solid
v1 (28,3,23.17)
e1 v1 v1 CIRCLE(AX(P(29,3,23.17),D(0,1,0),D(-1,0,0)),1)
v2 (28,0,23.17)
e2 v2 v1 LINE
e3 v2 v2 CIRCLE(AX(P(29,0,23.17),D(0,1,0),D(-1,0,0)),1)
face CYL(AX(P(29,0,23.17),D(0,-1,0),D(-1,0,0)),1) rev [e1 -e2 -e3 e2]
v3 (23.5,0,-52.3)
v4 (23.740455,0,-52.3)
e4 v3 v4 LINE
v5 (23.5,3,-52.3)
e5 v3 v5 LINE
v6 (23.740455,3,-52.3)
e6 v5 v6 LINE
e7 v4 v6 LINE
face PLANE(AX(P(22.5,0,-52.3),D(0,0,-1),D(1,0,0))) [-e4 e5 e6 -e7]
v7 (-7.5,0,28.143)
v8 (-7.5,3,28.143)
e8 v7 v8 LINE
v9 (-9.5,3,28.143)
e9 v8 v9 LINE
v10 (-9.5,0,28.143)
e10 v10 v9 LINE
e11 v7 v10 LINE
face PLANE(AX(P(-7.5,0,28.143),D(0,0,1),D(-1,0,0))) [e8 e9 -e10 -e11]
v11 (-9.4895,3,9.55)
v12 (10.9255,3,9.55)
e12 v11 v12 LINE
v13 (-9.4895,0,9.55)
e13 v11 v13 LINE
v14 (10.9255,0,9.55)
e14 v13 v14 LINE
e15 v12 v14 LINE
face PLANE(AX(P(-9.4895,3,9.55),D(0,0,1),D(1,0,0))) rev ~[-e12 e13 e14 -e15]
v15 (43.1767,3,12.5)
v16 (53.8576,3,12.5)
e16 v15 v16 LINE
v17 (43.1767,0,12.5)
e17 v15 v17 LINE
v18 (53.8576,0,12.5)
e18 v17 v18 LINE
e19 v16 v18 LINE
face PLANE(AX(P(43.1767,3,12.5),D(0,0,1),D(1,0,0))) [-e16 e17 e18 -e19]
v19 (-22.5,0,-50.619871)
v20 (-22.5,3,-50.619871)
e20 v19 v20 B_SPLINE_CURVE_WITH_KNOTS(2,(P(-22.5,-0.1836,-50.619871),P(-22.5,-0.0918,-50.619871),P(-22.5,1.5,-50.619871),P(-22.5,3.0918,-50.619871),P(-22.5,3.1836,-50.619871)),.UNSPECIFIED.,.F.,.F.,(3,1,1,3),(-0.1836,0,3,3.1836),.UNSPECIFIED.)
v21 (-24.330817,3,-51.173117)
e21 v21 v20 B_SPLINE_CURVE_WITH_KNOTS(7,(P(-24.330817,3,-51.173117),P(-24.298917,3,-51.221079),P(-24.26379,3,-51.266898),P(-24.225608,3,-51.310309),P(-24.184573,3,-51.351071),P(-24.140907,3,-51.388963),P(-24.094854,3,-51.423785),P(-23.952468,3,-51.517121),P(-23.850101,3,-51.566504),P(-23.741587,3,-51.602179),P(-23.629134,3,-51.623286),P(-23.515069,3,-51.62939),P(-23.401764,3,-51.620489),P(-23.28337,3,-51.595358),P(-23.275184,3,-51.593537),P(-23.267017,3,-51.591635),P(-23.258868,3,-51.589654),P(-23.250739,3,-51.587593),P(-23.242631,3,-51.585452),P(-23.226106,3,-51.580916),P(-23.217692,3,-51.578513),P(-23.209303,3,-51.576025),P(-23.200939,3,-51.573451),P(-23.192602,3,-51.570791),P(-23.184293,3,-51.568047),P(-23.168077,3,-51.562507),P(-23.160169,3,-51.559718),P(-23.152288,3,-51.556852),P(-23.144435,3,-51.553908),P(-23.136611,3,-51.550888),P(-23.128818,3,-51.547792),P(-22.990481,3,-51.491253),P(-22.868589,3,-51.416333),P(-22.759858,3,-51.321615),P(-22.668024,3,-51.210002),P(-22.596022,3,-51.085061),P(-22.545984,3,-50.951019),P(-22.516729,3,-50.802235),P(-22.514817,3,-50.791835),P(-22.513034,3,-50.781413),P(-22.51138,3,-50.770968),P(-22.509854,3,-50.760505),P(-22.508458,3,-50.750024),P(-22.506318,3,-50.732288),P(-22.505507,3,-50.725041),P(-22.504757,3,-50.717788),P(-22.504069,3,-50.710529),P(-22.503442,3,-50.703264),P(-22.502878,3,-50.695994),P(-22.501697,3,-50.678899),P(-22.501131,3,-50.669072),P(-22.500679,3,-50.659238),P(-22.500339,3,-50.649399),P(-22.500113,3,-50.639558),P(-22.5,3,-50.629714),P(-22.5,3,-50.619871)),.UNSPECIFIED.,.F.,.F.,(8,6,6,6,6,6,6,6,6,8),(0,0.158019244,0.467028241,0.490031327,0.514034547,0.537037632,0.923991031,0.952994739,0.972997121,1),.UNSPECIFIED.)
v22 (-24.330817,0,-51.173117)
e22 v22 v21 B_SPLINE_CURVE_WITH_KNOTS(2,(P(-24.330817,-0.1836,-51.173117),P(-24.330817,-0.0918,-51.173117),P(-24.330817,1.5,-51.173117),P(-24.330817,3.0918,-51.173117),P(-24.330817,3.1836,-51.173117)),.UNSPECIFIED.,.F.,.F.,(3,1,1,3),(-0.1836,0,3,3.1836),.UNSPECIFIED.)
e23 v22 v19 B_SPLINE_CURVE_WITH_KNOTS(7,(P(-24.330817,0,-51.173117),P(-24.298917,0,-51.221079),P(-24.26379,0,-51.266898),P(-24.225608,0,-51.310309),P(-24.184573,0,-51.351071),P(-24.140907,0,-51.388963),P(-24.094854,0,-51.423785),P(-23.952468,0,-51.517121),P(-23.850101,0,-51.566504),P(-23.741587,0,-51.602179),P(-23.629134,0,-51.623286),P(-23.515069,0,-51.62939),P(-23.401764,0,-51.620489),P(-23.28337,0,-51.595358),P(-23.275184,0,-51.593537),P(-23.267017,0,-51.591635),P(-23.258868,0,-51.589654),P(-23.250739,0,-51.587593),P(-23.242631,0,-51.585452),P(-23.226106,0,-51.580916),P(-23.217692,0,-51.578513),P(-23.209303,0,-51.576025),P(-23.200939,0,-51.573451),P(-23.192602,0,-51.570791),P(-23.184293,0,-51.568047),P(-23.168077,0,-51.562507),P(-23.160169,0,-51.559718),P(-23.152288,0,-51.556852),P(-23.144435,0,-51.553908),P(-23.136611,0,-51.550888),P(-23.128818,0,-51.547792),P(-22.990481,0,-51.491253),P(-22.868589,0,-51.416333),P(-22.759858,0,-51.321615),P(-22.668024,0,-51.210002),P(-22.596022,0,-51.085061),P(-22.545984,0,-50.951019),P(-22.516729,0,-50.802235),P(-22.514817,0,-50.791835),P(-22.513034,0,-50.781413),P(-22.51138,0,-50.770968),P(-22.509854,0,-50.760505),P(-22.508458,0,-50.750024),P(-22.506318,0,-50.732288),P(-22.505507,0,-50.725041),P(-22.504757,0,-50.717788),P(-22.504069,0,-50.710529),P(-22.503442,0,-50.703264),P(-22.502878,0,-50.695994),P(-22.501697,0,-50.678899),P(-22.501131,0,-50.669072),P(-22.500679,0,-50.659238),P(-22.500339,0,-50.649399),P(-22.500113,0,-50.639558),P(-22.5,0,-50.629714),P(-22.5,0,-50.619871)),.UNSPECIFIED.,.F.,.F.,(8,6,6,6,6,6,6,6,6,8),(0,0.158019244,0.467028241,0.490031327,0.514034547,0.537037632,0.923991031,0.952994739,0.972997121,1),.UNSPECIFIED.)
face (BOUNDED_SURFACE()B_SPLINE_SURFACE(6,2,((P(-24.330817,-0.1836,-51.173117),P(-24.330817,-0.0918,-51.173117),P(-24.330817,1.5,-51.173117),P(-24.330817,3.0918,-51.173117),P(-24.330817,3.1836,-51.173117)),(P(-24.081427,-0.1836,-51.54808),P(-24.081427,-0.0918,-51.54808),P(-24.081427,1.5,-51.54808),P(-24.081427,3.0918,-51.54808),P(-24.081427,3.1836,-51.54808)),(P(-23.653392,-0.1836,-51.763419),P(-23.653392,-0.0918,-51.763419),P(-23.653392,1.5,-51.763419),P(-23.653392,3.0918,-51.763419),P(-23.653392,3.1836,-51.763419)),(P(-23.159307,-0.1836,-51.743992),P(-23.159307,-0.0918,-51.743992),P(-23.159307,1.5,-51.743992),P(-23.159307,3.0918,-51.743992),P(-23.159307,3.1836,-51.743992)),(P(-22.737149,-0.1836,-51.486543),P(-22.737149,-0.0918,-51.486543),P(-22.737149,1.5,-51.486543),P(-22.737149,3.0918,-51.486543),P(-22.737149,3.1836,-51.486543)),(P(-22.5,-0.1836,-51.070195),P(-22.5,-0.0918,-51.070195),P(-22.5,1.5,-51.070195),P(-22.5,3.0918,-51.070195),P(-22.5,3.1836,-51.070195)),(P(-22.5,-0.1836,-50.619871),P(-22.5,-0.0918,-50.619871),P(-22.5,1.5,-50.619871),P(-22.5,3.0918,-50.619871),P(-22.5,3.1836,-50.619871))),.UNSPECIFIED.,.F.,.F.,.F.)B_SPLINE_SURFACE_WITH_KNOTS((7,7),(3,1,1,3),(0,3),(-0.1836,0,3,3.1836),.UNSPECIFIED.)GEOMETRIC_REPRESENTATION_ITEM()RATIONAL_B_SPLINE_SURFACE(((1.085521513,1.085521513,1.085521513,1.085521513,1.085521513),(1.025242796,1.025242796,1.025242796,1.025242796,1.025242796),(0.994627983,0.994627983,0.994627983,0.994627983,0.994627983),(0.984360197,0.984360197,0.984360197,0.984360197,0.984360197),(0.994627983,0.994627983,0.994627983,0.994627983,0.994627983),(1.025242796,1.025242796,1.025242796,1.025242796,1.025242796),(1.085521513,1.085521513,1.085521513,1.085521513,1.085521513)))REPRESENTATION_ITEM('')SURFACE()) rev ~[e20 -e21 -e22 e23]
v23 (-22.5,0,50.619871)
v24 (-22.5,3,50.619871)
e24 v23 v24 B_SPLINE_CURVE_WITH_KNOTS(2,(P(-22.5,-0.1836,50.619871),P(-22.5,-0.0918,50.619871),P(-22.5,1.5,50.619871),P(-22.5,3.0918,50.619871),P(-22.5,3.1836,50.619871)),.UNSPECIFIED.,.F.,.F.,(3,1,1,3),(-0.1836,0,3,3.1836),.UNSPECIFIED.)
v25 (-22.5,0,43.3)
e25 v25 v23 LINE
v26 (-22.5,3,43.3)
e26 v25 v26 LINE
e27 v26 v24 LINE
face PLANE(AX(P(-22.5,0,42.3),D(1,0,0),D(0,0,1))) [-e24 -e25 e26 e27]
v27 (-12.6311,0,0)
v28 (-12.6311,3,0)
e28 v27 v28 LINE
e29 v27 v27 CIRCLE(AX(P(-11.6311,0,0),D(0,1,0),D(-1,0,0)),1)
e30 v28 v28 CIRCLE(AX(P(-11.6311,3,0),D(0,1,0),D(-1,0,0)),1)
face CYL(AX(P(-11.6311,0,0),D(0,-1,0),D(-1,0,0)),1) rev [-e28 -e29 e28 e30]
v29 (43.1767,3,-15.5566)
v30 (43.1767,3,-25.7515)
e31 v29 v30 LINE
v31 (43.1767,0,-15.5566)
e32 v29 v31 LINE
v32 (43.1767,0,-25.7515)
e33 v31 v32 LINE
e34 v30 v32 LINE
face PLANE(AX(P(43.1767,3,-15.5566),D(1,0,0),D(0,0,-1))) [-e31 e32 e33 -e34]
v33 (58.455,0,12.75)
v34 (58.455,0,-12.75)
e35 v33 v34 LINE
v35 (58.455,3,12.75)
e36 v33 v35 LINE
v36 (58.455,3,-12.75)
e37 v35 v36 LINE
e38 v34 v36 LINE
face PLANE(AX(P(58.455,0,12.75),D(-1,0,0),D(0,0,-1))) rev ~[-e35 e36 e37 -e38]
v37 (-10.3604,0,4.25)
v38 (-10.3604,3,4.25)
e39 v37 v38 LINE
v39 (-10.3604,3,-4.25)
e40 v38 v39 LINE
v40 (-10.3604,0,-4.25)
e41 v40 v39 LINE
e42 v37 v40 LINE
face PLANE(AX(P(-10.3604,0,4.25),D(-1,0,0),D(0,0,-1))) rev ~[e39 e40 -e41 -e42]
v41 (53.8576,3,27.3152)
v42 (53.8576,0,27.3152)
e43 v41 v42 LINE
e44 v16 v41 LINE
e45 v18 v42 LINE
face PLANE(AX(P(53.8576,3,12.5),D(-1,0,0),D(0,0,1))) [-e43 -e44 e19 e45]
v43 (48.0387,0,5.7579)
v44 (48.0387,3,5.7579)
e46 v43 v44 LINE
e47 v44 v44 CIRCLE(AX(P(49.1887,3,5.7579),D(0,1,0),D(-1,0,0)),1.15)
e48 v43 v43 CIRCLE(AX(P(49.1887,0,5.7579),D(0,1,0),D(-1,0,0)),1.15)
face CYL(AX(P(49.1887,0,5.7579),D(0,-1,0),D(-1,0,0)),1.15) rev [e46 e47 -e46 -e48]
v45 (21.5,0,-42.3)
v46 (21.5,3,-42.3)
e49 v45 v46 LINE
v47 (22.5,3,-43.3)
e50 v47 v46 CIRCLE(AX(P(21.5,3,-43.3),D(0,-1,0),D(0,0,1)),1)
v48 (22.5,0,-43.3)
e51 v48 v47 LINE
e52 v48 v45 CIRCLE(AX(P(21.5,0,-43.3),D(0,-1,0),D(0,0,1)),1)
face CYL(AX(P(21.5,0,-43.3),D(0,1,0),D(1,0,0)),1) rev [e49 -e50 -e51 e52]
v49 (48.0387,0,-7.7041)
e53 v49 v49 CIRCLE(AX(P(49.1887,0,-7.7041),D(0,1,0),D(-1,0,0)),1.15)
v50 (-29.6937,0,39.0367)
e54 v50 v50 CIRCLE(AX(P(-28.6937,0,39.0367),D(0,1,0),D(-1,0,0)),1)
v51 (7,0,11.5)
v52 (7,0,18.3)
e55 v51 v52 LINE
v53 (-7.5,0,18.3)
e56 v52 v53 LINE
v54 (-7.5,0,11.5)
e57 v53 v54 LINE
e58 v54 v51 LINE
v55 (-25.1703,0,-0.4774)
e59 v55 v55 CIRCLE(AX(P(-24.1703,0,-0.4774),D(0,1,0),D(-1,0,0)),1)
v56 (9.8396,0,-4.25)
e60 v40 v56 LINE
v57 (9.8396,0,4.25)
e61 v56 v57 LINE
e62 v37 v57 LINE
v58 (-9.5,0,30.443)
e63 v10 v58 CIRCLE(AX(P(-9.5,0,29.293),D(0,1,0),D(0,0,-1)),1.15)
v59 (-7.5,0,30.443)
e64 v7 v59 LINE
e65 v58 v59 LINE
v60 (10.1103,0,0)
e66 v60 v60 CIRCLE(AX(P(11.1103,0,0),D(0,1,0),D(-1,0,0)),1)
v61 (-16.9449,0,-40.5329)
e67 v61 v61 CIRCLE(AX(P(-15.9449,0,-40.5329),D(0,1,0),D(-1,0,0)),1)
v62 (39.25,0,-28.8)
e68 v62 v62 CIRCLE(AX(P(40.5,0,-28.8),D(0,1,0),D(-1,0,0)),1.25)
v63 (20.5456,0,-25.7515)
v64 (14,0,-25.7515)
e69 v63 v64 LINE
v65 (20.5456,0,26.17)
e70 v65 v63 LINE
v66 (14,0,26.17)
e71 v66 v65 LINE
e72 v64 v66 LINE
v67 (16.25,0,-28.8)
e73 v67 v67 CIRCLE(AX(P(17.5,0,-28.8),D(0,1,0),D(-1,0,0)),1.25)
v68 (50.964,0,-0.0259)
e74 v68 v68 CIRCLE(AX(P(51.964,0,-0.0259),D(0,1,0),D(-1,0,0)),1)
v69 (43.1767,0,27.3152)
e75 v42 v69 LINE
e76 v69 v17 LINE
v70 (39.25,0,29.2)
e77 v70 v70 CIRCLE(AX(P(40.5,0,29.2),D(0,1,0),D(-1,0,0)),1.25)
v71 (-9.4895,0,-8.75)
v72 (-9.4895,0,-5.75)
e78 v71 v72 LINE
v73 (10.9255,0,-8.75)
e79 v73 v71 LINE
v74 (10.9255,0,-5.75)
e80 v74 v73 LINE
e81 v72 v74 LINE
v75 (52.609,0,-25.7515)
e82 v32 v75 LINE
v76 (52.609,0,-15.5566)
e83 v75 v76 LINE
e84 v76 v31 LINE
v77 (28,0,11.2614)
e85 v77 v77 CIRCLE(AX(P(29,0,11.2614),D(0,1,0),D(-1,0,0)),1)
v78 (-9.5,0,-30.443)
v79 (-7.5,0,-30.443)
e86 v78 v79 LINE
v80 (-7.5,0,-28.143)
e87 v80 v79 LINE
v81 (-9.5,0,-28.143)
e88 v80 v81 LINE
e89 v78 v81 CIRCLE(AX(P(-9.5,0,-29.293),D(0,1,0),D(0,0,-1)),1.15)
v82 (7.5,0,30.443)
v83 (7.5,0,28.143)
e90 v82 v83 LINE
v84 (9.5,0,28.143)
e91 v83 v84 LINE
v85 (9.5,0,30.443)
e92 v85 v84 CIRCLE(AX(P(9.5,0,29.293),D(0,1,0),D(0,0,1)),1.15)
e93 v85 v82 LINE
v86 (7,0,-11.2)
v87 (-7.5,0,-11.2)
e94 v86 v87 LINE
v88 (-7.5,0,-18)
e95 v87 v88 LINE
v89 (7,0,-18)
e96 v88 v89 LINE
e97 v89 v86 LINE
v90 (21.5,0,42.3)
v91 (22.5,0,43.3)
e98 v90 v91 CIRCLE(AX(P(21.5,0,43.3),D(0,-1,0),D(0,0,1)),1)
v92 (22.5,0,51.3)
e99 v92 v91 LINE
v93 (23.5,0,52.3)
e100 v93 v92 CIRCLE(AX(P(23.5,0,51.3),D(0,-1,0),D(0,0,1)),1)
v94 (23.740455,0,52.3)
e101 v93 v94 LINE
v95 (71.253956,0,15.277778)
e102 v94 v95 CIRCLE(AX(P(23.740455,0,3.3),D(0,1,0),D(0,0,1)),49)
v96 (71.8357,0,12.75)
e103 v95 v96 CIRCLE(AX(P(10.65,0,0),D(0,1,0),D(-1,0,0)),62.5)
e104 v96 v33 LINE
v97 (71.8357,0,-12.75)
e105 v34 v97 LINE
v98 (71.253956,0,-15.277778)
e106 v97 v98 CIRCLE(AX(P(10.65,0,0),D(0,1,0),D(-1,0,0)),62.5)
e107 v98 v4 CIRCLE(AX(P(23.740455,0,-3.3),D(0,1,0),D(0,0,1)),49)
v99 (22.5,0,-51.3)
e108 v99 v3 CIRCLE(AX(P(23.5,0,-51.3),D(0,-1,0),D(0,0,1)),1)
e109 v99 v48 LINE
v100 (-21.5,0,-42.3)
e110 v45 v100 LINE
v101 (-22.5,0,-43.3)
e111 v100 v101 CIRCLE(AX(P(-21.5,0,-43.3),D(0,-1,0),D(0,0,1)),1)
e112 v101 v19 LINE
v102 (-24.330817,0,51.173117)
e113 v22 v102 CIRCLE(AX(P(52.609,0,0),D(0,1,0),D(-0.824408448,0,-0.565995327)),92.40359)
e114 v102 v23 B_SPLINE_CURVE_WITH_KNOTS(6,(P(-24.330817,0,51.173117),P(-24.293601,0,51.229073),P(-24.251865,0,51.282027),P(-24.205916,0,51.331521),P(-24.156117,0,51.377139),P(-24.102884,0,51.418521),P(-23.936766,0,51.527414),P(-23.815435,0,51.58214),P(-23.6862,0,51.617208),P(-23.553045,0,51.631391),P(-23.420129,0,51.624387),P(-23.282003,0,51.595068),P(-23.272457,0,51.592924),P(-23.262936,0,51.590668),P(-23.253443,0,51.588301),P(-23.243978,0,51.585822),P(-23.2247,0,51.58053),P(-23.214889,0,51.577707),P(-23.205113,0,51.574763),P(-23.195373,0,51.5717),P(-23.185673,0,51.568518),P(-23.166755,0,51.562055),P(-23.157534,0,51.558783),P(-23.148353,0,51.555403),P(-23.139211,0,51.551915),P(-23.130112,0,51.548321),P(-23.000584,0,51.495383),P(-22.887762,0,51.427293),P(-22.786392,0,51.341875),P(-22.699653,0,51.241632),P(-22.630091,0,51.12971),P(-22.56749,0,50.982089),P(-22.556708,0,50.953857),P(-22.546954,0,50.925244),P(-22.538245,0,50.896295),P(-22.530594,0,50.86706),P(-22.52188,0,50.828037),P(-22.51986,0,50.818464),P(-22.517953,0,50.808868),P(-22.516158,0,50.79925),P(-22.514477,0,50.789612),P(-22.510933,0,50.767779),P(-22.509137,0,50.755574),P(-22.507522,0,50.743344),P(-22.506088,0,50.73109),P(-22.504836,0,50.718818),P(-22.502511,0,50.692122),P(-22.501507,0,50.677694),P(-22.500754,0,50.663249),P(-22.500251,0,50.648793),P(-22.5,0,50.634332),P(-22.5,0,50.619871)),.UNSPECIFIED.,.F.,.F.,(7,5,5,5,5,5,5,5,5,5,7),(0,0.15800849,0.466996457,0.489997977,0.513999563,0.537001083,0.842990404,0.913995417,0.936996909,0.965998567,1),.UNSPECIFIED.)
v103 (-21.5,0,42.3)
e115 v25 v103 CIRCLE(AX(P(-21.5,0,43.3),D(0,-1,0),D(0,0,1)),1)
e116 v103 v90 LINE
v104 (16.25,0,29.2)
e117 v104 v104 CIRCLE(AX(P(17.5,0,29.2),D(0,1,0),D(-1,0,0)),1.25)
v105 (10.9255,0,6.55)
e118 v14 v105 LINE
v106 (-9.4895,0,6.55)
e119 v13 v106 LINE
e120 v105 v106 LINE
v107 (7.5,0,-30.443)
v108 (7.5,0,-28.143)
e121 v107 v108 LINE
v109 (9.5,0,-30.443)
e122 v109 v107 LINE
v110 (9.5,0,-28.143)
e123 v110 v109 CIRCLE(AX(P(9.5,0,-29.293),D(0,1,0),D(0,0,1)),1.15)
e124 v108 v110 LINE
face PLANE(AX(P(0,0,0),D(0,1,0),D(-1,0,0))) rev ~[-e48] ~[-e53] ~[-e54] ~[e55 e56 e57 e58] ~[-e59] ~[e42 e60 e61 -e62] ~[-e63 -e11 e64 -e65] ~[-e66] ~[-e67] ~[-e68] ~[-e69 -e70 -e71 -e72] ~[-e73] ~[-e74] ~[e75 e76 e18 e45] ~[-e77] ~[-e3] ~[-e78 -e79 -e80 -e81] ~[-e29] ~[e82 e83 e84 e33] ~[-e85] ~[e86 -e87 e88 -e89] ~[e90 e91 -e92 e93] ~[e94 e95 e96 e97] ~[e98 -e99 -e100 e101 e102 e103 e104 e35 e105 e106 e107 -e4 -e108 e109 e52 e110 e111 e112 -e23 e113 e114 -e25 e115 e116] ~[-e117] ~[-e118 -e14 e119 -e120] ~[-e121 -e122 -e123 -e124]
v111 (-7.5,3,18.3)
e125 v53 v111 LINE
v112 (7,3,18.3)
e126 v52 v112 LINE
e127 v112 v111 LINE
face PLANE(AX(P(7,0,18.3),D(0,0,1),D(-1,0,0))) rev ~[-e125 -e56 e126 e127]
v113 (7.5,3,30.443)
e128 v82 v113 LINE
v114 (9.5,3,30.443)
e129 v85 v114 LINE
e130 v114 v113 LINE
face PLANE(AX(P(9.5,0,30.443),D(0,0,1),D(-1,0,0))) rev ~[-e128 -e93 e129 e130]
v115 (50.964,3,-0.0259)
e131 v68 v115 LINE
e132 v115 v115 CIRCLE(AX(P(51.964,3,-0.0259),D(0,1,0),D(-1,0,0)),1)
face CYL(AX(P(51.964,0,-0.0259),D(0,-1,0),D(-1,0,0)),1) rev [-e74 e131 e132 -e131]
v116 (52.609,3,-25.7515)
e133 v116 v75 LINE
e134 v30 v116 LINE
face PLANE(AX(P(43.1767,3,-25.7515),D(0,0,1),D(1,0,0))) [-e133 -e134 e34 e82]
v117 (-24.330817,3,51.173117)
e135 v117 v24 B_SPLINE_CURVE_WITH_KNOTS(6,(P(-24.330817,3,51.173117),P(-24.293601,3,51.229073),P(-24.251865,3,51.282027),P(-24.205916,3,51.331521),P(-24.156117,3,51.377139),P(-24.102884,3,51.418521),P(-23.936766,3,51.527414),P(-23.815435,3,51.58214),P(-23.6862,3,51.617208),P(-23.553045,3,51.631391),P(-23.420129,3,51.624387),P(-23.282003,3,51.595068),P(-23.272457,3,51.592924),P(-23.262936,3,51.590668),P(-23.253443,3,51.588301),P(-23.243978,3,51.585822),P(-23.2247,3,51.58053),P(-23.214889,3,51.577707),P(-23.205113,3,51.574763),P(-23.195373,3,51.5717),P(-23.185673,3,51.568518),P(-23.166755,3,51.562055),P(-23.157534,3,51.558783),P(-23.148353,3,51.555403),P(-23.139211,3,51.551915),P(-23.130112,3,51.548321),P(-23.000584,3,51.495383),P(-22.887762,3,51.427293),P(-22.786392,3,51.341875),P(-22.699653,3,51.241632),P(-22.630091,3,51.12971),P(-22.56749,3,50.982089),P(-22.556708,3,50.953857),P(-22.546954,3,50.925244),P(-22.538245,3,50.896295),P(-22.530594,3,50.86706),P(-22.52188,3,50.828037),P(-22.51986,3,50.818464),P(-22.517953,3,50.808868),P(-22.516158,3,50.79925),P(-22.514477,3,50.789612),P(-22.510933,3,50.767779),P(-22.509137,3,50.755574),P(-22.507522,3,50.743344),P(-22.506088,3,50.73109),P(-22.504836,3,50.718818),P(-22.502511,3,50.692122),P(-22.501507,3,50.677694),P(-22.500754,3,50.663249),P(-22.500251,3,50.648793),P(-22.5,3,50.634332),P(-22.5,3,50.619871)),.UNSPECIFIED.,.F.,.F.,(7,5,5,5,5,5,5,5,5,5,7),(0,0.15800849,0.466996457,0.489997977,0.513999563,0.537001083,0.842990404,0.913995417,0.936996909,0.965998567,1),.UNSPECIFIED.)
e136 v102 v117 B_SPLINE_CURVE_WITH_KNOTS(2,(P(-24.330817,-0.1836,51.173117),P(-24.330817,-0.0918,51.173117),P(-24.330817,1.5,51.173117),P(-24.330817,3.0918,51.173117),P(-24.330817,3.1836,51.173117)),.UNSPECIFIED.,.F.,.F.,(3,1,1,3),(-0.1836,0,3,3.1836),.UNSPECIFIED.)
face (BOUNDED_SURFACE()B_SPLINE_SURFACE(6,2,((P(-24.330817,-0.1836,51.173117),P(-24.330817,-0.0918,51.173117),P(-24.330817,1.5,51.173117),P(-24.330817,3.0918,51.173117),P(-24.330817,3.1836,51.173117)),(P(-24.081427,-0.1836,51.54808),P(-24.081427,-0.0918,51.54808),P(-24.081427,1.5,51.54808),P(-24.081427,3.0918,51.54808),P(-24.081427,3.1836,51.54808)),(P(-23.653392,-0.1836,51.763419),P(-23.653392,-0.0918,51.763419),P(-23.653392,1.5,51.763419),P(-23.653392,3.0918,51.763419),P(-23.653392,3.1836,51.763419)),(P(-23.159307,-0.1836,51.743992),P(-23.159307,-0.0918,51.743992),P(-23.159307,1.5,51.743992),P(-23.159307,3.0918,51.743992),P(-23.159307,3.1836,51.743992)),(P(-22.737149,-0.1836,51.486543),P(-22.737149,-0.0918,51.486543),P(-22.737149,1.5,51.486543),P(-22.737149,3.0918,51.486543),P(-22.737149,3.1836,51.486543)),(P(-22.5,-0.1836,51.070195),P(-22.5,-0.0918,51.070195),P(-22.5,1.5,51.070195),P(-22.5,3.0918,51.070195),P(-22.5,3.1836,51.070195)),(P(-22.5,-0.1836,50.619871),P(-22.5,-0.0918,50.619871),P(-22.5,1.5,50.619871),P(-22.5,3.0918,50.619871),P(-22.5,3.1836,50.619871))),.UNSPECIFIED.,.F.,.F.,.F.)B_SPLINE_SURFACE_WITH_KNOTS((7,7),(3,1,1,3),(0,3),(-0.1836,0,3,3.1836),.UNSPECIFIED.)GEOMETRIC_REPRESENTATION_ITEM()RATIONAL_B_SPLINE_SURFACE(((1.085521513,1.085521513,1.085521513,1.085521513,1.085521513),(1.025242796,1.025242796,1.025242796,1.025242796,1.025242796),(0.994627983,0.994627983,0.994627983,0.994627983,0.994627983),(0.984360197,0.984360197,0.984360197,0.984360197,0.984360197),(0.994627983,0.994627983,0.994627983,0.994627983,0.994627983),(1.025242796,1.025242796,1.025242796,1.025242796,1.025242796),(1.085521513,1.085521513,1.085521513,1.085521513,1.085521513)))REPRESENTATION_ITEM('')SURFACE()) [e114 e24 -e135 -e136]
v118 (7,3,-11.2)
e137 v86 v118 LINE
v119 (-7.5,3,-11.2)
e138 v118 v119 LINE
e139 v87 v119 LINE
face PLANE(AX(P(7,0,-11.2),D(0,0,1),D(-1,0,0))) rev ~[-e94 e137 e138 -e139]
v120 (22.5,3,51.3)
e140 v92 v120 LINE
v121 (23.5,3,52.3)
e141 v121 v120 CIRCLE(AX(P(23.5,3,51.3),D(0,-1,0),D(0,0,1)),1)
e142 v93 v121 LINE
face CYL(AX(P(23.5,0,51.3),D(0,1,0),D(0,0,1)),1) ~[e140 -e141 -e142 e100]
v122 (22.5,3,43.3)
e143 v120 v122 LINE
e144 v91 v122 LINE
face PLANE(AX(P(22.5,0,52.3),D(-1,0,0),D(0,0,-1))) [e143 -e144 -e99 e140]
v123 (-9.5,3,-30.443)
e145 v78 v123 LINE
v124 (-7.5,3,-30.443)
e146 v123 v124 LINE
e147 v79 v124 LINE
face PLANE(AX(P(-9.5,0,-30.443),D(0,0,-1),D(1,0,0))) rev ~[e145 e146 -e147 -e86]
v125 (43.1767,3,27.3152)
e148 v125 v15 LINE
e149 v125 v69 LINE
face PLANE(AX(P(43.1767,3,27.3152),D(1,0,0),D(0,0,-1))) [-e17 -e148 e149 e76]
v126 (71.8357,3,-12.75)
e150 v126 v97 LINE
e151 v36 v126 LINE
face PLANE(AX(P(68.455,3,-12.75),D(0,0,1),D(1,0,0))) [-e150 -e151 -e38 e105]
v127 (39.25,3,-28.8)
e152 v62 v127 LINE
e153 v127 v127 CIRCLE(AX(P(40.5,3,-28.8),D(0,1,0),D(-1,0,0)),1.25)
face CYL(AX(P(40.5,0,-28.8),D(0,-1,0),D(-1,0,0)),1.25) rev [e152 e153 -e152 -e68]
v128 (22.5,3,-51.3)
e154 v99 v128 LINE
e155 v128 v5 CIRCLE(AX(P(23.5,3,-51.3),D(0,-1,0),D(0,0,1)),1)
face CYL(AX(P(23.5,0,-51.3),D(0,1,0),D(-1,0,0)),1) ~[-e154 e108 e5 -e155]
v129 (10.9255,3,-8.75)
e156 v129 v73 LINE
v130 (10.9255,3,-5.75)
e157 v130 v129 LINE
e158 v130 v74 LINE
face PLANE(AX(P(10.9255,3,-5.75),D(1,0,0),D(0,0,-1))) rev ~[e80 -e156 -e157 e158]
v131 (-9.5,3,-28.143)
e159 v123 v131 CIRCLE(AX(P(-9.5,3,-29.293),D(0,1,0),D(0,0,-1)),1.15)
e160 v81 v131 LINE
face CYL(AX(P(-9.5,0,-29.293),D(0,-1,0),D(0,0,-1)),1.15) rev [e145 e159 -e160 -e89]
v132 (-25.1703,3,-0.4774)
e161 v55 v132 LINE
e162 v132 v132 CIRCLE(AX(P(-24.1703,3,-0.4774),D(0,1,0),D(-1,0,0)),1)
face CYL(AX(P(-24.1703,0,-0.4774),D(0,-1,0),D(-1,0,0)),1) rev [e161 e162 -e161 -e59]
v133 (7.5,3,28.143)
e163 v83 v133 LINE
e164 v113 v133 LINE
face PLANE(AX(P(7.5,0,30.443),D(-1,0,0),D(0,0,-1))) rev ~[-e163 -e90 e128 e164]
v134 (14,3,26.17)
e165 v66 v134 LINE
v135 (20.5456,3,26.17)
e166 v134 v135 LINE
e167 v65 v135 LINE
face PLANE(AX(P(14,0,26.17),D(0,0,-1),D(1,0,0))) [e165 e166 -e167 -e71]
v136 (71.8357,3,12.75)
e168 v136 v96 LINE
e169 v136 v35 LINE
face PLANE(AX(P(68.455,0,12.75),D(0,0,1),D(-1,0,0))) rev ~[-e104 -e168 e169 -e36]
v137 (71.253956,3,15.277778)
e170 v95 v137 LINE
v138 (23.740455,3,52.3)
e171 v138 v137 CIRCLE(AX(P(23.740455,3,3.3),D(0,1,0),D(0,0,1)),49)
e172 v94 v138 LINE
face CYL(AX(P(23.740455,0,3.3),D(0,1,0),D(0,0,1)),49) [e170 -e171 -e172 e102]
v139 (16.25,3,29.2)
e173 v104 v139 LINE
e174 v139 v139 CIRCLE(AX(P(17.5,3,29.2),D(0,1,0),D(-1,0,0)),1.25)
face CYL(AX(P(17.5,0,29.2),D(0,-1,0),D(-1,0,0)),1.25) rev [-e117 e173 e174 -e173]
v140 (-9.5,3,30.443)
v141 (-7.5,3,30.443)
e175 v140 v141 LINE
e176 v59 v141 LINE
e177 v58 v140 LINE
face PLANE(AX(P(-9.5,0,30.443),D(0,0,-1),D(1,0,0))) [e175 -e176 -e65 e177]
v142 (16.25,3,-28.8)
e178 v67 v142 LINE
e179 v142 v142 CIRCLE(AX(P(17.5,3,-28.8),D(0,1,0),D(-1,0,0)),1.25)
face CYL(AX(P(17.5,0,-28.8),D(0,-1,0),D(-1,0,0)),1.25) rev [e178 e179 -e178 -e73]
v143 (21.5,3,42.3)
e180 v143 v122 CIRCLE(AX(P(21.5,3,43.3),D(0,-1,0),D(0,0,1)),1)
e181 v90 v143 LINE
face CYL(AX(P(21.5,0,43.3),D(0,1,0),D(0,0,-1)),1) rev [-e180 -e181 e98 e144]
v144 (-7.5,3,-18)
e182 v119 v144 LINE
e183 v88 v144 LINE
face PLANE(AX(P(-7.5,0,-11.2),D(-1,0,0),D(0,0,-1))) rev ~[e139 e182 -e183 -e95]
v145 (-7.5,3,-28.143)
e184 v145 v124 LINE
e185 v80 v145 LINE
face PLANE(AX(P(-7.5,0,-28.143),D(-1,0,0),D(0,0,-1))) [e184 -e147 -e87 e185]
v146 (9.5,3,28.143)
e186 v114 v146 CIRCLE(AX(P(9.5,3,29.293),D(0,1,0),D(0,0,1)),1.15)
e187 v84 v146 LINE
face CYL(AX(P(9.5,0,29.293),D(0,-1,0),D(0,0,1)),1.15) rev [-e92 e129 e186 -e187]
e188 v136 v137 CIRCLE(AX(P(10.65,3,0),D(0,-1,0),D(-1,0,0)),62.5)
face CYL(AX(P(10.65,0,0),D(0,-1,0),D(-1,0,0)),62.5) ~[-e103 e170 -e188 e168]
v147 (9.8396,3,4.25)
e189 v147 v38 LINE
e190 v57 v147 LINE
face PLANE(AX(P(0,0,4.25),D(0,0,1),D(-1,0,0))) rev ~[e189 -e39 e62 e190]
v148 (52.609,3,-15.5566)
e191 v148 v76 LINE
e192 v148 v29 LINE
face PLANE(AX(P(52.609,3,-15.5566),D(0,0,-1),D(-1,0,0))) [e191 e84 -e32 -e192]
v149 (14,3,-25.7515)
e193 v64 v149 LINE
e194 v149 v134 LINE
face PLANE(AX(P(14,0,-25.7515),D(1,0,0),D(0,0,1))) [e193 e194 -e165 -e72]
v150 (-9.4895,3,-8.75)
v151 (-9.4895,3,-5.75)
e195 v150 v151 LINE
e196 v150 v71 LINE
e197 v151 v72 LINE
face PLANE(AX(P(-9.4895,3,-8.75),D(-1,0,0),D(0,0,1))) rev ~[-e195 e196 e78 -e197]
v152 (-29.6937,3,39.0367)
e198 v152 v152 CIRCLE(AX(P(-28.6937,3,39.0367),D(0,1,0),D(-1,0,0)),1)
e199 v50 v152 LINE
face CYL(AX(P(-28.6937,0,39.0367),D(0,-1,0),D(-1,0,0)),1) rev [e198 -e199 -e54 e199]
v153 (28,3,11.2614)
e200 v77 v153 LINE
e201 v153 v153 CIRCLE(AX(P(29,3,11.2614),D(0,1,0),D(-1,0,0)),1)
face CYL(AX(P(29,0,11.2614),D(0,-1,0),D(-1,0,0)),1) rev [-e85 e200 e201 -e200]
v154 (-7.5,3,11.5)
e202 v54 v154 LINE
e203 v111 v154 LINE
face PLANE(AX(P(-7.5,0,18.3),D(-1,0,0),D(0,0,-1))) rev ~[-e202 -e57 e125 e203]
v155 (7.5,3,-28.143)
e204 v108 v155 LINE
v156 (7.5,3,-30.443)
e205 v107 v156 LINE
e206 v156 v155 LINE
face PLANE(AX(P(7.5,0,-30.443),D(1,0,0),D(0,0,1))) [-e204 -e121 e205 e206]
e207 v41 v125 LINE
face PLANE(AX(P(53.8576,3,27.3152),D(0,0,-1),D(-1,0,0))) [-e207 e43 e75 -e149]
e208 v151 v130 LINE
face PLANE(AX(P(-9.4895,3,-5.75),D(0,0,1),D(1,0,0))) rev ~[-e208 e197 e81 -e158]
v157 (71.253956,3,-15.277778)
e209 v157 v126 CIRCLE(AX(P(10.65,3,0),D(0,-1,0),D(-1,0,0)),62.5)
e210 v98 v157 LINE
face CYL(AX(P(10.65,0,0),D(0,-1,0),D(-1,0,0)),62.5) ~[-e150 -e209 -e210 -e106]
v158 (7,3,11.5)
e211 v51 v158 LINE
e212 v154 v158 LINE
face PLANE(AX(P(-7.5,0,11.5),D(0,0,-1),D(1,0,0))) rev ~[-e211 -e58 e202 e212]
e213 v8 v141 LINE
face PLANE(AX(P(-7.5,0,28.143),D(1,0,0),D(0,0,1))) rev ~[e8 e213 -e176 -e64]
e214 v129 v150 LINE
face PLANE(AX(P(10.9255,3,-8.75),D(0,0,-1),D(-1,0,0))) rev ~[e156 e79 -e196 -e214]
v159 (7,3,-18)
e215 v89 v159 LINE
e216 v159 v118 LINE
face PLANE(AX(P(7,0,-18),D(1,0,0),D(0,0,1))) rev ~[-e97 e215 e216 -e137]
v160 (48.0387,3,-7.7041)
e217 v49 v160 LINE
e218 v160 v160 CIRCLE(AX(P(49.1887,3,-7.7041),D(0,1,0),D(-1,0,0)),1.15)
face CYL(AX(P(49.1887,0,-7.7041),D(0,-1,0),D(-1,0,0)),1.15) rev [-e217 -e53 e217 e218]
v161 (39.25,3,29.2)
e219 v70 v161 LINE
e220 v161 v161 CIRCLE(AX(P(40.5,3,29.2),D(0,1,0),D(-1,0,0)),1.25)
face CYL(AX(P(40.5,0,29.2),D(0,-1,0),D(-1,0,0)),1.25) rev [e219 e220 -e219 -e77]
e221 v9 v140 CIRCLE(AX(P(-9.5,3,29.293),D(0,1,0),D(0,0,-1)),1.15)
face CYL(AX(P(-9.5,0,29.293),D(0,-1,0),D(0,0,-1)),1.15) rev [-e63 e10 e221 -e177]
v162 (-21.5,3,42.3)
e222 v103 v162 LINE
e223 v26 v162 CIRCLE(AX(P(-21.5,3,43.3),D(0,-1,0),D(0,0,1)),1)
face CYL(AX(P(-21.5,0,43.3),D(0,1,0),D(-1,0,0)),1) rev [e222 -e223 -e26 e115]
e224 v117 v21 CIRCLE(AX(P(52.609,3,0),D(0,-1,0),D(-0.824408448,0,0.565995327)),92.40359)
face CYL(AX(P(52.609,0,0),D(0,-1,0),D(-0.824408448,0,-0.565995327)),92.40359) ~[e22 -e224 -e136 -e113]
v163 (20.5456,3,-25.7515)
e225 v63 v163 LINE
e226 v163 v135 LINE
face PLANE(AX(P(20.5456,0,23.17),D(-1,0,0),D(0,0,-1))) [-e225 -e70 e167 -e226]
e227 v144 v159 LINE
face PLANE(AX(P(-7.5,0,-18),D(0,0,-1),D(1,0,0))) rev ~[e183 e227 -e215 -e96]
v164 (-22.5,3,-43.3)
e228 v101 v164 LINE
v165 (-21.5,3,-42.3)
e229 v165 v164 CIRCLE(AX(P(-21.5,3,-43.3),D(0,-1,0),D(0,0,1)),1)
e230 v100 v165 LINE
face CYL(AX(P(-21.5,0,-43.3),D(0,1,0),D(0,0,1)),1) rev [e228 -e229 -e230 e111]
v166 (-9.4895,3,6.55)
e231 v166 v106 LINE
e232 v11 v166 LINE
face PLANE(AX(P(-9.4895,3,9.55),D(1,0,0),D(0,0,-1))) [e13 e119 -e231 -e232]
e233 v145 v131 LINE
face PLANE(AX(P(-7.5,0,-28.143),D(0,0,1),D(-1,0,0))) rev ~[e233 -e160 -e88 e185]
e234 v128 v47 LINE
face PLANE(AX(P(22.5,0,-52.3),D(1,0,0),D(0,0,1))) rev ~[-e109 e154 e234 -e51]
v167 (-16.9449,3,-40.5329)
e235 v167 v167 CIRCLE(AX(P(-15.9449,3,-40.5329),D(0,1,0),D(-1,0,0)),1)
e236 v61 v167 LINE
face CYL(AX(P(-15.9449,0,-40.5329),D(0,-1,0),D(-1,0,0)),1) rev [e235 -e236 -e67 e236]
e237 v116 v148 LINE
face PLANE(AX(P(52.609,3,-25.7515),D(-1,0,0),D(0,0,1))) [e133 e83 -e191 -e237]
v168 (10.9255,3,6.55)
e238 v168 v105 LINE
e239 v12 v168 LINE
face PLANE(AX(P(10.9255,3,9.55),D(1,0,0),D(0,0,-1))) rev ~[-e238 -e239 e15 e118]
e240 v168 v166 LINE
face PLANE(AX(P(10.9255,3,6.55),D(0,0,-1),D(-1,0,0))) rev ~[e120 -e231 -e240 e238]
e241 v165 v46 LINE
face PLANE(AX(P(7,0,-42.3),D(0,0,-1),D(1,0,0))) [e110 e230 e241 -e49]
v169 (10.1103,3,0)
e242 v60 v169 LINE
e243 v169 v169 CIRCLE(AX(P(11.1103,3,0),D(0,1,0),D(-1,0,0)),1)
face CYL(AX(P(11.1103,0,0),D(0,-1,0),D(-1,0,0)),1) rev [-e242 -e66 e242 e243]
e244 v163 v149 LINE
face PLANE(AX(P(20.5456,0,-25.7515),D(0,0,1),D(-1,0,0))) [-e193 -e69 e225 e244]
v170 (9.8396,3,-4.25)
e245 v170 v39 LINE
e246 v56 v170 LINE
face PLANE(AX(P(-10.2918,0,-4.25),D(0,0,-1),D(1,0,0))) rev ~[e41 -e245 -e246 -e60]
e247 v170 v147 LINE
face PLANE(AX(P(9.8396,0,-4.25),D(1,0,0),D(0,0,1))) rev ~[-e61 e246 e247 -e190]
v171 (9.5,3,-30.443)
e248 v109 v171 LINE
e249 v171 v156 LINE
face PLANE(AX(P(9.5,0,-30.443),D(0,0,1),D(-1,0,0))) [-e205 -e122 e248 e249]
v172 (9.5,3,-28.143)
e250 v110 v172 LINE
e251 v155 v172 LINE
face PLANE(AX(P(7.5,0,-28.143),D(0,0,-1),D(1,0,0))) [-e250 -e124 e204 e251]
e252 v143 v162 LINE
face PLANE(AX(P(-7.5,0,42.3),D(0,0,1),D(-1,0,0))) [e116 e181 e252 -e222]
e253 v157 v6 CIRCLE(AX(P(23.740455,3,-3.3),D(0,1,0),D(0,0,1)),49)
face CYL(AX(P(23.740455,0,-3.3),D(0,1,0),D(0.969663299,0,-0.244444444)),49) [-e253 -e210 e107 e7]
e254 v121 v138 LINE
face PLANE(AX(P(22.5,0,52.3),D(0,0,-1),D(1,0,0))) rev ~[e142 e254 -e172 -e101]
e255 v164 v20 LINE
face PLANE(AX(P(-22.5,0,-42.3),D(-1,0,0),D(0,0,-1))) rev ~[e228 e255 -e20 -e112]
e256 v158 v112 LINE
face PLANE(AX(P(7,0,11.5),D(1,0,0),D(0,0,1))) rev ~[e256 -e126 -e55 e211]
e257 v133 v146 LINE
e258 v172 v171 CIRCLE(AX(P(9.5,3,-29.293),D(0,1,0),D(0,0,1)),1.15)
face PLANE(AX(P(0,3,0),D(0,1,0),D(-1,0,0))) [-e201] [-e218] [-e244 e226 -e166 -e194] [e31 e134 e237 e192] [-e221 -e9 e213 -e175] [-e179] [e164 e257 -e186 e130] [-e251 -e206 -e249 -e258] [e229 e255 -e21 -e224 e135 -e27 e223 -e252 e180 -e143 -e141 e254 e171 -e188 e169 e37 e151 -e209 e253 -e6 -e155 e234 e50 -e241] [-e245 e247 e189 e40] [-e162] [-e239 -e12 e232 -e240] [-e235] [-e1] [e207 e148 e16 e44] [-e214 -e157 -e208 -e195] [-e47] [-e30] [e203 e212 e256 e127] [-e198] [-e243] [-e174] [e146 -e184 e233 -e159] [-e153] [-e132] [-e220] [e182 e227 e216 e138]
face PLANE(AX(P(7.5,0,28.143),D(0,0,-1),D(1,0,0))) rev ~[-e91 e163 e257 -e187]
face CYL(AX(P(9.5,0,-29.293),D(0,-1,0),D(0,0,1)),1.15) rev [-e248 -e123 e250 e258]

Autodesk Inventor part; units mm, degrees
ref_plane "YZ Plane" through (0, 0, 0) normal (1, 0, 0) x (0, 1, 0)
ref_plane "XZ Plane" through (0, 0, 0) normal (0, 1, 0) x (-1, 0, 0)
ref_plane "XY Plane" through (0, 0, 0) normal (0, 0, 1) x (1, 0, 0)
sketch "Boceto2" plane through (0, 0, 0) normal (0, 1, 0) x (-1, 0, 0)
  circle A0 centre (-10.65, 0) radius 62.5
  line L0 (-44, 29.7) -> (-44, -29.3)
  line L1 (-41, -32.3) -> (-17, -32.3)
  line L2 (-14, -29.3) -> (-14, 29.7)
  line L3 (-17, 32.7) -> (-41, 32.7)
  circle A1 centre (-40.5, -28.8) radius 1.25
  line L4 (0, 6.809) -> (0, -6.809)
  line L5 (10.65, 0) -> (-10.65, 0) construction
  circle A2 centre (-17.5, -28.8) radius 1.25
  circle A3 centre (-40.5, 29.2) radius 1.25
  circle A4 centre (-17.5, 29.2) radius 1.25
  line L6 (7.5, -42.3) -> (-7, -42.3)
  line L7 (-7, -42.3) -> (-7, -25)
  line L8 (-7, -25) -> (7.5, -25)
  line L9 (7.5, -25) -> (7.5, -42.3)
  arc A5 (9.0958, -33.5419) -> (9.0958, -25.0441) centre (9, -29.293) ccw
  line L10 (9.0958, -33.5419) -> (7.5, -42.3)
  line L11 (9.0958, -25.0441) -> (7.5, -25.0441)
  arc A6 (9.5, -30.443) -> (9.5, -28.143) centre (9.5, -29.293) ccw
  line L12 (9.5, -30.443) -> (7.5, -30.443)
  line L13 (7.5, -30.443) -> (7.5, -28.143)
  line L14 (7.5, -28.143) -> (9.5, -28.143)
  line L15 (9.5, -28.143) -> (9.5, -30.443)
  arc A7 (-9.0958, -25.0441) -> (-9.0958, -33.5419) centre (-9, -29.293) ccw
  line L16 (-9.0958, -33.5419) -> (-7, -42.3)
  line L17 (-9.0958, -25.0441) -> (-7.5, -25.0441)
  arc A8 (-9.5, -28.143) -> (-9.5, -30.443) centre (-9.5, -29.293) ccw
  line L18 (-9.5, -30.443) -> (-7.5, -30.443)
  line L19 (-7.5, -30.443) -> (-7.5, -28.143)
  line L20 (-7.5, -28.143) -> (-9.5, -28.143)
  line L21 (-9.5, -28.143) -> (-9.5, -30.443)
  line L22 (7.5, 42.3) -> (-7, 42.3)
  line L23 (-7, 42.3) -> (-7, 25)
  line L24 (-7, 25) -> (7.5, 25)
  line L25 (7.5, 25) -> (7.5, 42.3)
  arc A9 (9.0958, 25.0441) -> (9.0958, 33.5419) centre (9, 29.293) ccw
  line L26 (9.0958, 33.5419) -> (7.5, 42.3)
  line L27 (9.0958, 25.0441) -> (7.5, 25.0441)
  arc A10 (9.5, 28.143) -> (9.5, 30.443) centre (9.5, 29.293) ccw
  line L28 (9.5, 30.443) -> (7.5, 30.443)
  line L29 (7.5, 30.443) -> (7.5, 28.143)
  line L30 (7.5, 28.143) -> (9.5, 28.143)
  line L31 (9.5, 28.143) -> (9.5, 30.443)
  line L32 (-9.0958, 25.0441) -> (-7.5, 25.0441)
  line L33 (-7.5, 28.143) -> (-9.5, 28.143)
  line L34 (-7.5, 30.443) -> (-7.5, 28.143)
  line L35 (-9.5, 28.143) -> (-9.5, 30.443)
  line L36 (-9.5, 30.443) -> (-7.5, 30.443)
  arc A11 (-9.5, 30.443) -> (-9.5, 28.143) centre (-9.5, 29.293) ccw
  line L37 (-9.0958, 33.5419) -> (-7, 42.3)
  arc A12 (-9.0958, 33.5419) -> (-9.0958, 25.0441) centre (-9, 29.293) ccw
  line L38 (10.3604, -4.25) -> (-9.8396, -4.25)
  line L39 (-9.8396, -4.25) -> (-9.8396, 4.25)
  line L40 (-9.8396, 4.25) -> (10.3604, 4.25)
  line L41 (10.3604, 4.25) -> (10.3604, -4.25)
  line L42 (35.3604, -42.3) -> (-56.6604, -42.3)
  line L43 (-56.6604, -42.3) -> (-56.6604, 42.3)
  line L44 (-56.6604, 42.3) -> (35.3604, 42.3)
  line L45 (35.3604, 42.3) -> (35.3604, -42.3)
  line L46 (-58.455, -12.75) -> (-68.455, -12.75)
  line L47 (-68.455, -12.75) -> (-68.455, 12.75)
  line L48 (-68.455, 12.75) -> (-58.455, 12.75)
  line L49 (-58.455, 12.75) -> (-58.455, -12.75)
  line L50 (22.5, 52.3) -> (-22.5, 52.3)
  line L51 (-22.5, 52.3) -> (-22.5, 42.3)
  line L52 (-22.5, 42.3) -> (22.5, 42.3)
  line L53 (22.5, 42.3) -> (22.5, 52.3)
  line L54 (22.5, -52.3) -> (-22.5, -52.3)
  line L55 (-22.5, -52.3) -> (-22.5, -42.3)
  line L56 (-22.5, -42.3) -> (22.5, -42.3)
  line L57 (22.5, -42.3) -> (22.5, -52.3)
  line L58 (22.5, 52.3) -> (23.5693, 52.3)
  line L59 (-22.5, 52.3) -> (-44.8693, 52.3)
  line L60 (22.5, -52.3) -> (23.5693, -52.3)
  line L61 (-22.5, -52.3) -> (-44.8693, -52.3)
  circle A13 centre (-49.1887, 5.7579) radius 1.15
  circle A14 centre (-49.1887, -7.7041) radius 1.15
  arc A15 (23.5693, -52.3) -> (23.5693, 52.3) centre (-52.609, 0) ccw
  line L62 (7.5, -18) -> (-7, -18)
  line L63 (-7, -18) -> (-7, -11.2)
  line L64 (-7, -11.2) -> (7.5, -11.2)
  line L65 (7.5, -11.2) -> (7.5, -18)
  line L66 (7.5, 11.5) -> (-7, 11.5)
  line L67 (-7, 11.5) -> (-7, 18.3)
  line L68 (-7, 18.3) -> (7.5, 18.3)
  line L69 (7.5, 18.3) -> (7.5, 11.5)
  circle A16 centre (24.1703, -0.4774) radius 1
  circle A17 centre (11.6311, 0) radius 1
  circle A18 centre (-11.1103, 0) radius 1
  arc A19 (-14, 29.7) -> (-17, 32.7) centre (-17, 29.7) ccw
  arc A20 (-17, -32.3) -> (-14, -29.3) centre (-17, -29.3) ccw
  arc A21 (-44, -29.3) -> (-41, -32.3) centre (-41, -29.3) ccw
  arc A22 (-41, 32.7) -> (-44, 29.7) centre (-41, 29.7) ccw
  line L70 (-14, 26.17) -> (-20.5456, 26.17)
  line L71 (-20.5456, 26.17) -> (-20.5456, -25.7515)
  line L72 (-20.5456, -25.7515) -> (-14, -25.7515)
  line L73 (-14, -25.7515) -> (-14, 26.17)
  line L74 (34.1703, -37.9774) -> (14.1703, -37.9774) construction
  line L75 (14.1703, -37.9774) -> (14.1703, 37.0226) construction
  line L76 (14.1703, 37.0226) -> (34.1703, 37.0226) construction
  line L77 (34.1703, 37.0226) -> (34.1703, -37.9774) construction
  circle A23 centre (28.6937, 39.0367) radius 1
  circle A24 centre (15.9449, -40.5329) radius 1
  circle A25 centre (-29, 23.17) radius 1
  circle A26 centre (-29, 11.2614) radius 1
  line L78 (-20.5456, 23.17) -> (-20.5456, 26.17)
  line L79 (-9.7082, -10.0259) -> (10.2918, -10.0259)
  line L80 (10.2918, -10.0259) -> (10.2918, 9.9741)
  line L81 (10.2918, 9.9741) -> (-9.7082, 9.9741)
  line L82 (-9.7082, 9.9741) -> (-9.7082, -10.0259)
  circle A27 centre (-51.964, -0.0259) radius 1
  point P0 (0, 0)
  point P1 (-14, -32.3)
  point P2 (-44, -32.3)
  point P3 (-14, 32.7)
  point P4 (-14, 0.2)
  point P5 (0, 0)
  point P6 (13.25, -29.293)
  point P7 (10.65, -29.293)
  point P8 (-13.25, -29.293)
  point P9 (-10.65, -29.293)
  point P10 (13.25, 29.293)
  point P11 (10.65, 29.293)
  point P12 (-10.65, 29.293)
  point P13 (-13.25, 29.293)
  point P14 (-16, 0)
  point P15 (10.3604, 0)
  point P16 (-58.455, 0)
  point P17 (-7.5, 36.9)
  point P18 (-7.5, 39.2)
  point P19 (-7.5, -39.2)
  point P20 (-7.5, -36.9)
  point P21 (7.5, -28.143)
  point P22 (7.5, -30.443)
  point P23 (-7, -42.3)
  point P24 (-56.6604, -42.3)
  point P25 (7.5, -42.3)
  point P26 (7.5, 42.3)
  point P27 (47.2734, 42.3)
  point P28 (-7, 42.3)
  point P29 (0, 52.3)
  point P30 (-22.5, -42.3)
  point P31 (22.5, -42.3)
  point P32 (22.5, 42.3)
  point P33 (-14, -25.7515)
  dimension "d128" = 125
  dimension "d52" = 65
  dimension "d53" = 30
  dimension "d56" = 3.5
  dimension "d57" = 3.5
  dimension "d60" = 23
  dimension "d63" = 58
  dimension "d78" = 14.5
  dimension "d79" = 17.3
  dimension "d81" = 1.5
  dimension "d82" = 4.25
  dimension "d83" = 1.15
  dimension "d84" = 2.3
  dimension "d86" = 2
  dimension "d88" = 7.5
  dimension "d92" = 20.2
  dimension "d93" = 8.5
  dimension "d94" = 10
  dimension "d95" = 25.5
  dimension "d108" = 10
  dimension "d113" = 45
  dimension "d114" = 13.462
  dimension "d116" = 2.3
  dimension "d119" = 2.3
  dimension "d120" = 14
  dimension "d127" = 25
  dimension "d133" = 10.65
  dimension "d134" = 42.3
  dimension "d135" = 1.5958
  dimension "d136" = 14.5
  dimension "d137" = 6.8
  dimension "d138" = 14.5
  dimension "d139" = 6.8
  dimension "d140" = 2
  dimension "d144" = 2
  dimension "d145" = 2
  dimension "d156" = 23
  dimension "d157" = 7
  dimension "d159" = 3
  dimension "d160" = 1.2707
  dimension "d161" = 1.2707
  dimension "d164" = 75
  dimension "d165" = 20
  dimension "d166" = 37.5
  dimension "d168" = 2
  dimension "d169" = 2
  dimension "d170" = 2
  dimension "d171" = 2
  dimension "d177" = 6.5457
  dimension "d178" = 10
  dimension "d179" = 51.9215
  dimension "d180" = 6.5485
  dimension "d181" = 11.9086
  dimension "d182" = 20
  dimension "d183" = 20
  dimension "d387" = 2
extrude "Extrusión4" add sketch "Boceto2" along normal blind 3 contours A0 L45 A15 | L44 A15 A0 | L45 A15 L44 | A0 A15 L42 | L42 A15 L45 | L58 L50 L59 A0 | A15 L44 L53 L58 | A15 L45 L42 L10 A5 L11 L9 L8 L7 L43 L44 L23 L24 L25 L27 A9 L26 | A15 L45 | A0 L61 L54 L60 | L60 L57 L42 A15 | L59 L51 L44 A0 | L53 L44 L22 L51 L50 | A0 L42 L55 L61 | L54 L55 L42 L6 L57 | L43 A0 | L25 L24 L23 L22 | L26 A9 L27 L25 L30 A10 L28 | L6 L7 L8 L9 | L9 L12 A6 L14 L11 A5 L10 | L28 L31 L30 L25 | L9 L14 L15 L12 | A10 L31 | L15 A6 | A22 L3 A19 L2 L70 L71 L72 A20 L1 A21 L0 | L2 L72 L71 L70 | A1 | L40 L80 L38 L4 | L4 L38 L82 L40 | L40 L82 L81 L80 | L38 L80 L79 L82 | L82 L38 L39 L40 | L40 L41 L38 L80 | A2 | A3 | A4 | L21 A8 | L20 L19 L18 L21 | L33 L35 L36 L34 | A11 L35 | L46 L47 L48 L49 | A13 | A14 | L62 L63 L64 L65 | L66 L67 L68 L69 | A16 | A17 | A18 | A23 | A24 | A25 | A26 | A27
extrude "Extrusión9" cut sketch "Boceto2" along normal blind 3 contours A0 L45 A15 | L44 A15 A0 | L45 A15 L44 | A0 A15 L42 | L42 A15 L45 | L58 L50 L59 A0 | A0 L61 L54 L60 | L53 L44 L22 L51 L50 | L54 L55 L42 L6 L57 | L28 L31 L30 L25 | L9 L14 L15 L12 | A10 L31 | L15 A6 | A1 | L40 L80 L38 L4 | L4 L38 L82 L40 | L82 L38 L39 L40 | L40 L41 L38 L80 | A2 | A3 | A4 | L21 A8 | L20 L19 L18 L21 | L33 L35 L36 L34 | A11 L35 | L46 L47 L48 L49 | A13 | A14 | L62 L63 L64 L65 | L66 L67 L68 L69 | A17 | A18
fillet "Empalme6" radius 1 10 edges at (-23.5693, 1.5, 52.3) (-22.5, 1.5, 52.3) (-23.5693, 1.5, -52.3) (-22.5, 1.5, -52.3) (22.5, 1.5, -52.3) (22.5, 1.5, 52.3) (22.5, 1.5, -42.3) (-22.5, 1.5, -42.3) (-22.5, 1.5, 42.3) (22.5, 1.5, 42.3)
fillet "Empalme7" radius 49 2 edges at (44.8693, 1.5, 52.3) (44.8693, 1.5, -52.3)
extrude "Extrusión11" cut sketch "Boceto2" along normal blind 3 contours A2 | A4 | A16
extrude "Extrusión12" cut sketch "Boceto2" along normal blind 3 contours L2 L72 L71 L70 | A23 | A24 | A25 | A26
sketch "Boceto3" plane through (0, 3, 0) normal (0, 1, 0) x (1, 0, 0)
  line L0 (20.8865, 32.3) -> (20.8865, -32.7)
  line L1 (20.8865, -32.7) -> (-14.1135, -32.7)
  line L2 (-14.1135, -32.7) -> (-14.1135, 32.3)
  line L3 (20.8865, 32.3) -> (-14.1135, 32.3)
  circle A0 centre (17.5, 28.8) radius 1.25 projected
  circle A1 centre (17.5, -29.2) radius 1.25 projected
  circle A2 centre (29, -11.2614) radius 1 projected
  circle A3 centre (29, -23.17) radius 1 projected
  circle A4 centre (-28.6937, -39.0367) radius 1 projected
  line L4 (20.5456, 25.7515) -> (20.5456, -26.17) projected
  line L5 (20.5456, -26.17) -> (14, -26.17) projected
  line L6 (14, -26.17) -> (14, 25.7515) projected
  line L7 (14, 25.7515) -> (20.5456, 25.7515) projected
  circle A5 centre (-15.9449, 40.5329) radius 1 projected
  circle A6 centre (-24.1703, 0.4774) radius 1 projected
  arc A7 (71.254, 15.2778) -> (23.7405, 52.3) centre (23.7405, 3.3) ccw projected
  line L8 (23.7405, 52.3) -> (23.5, 52.3) projected
  arc A8 (23.5, 52.3) -> (22.5, 51.3) centre (23.5, 51.3) ccw projected
  line L9 (22.5, 51.3) -> (22.5, 43.3) projected
  arc A9 (21.5, 42.3) -> (22.5, 43.3) centre (21.5, 43.3) ccw projected
  line L10 (21.5, 42.3) -> (-21.5, 42.3) projected
  arc A10 (-22.5, 43.3) -> (-21.5, 42.3) centre (-21.5, 43.3) ccw projected
  line L11 (-22.5, 43.3) -> (-22.5, 50.6166) projected
  arc A11 (-22.5, 50.6166) -> (-24.3327, 51.1703) centre (-23.5, 50.6166) ccw projected
  arc A12 (-24.3327, 51.1703) -> (-24.3327, -51.1703) centre (52.609, 0) ccw projected
  arc A13 (-24.3327, -51.1703) -> (-22.5, -50.6166) centre (-23.5, -50.6166) ccw projected
  line L12 (-22.5, -50.6166) -> (-22.5, -43.3) projected
  arc A14 (-21.5, -42.3) -> (-22.5, -43.3) centre (-21.5, -43.3) ccw projected
  line L13 (-21.5, -42.3) -> (21.5, -42.3) projected
  arc A15 (22.5, -43.3) -> (21.5, -42.3) centre (21.5, -43.3) ccw projected
  line L14 (22.5, -43.3) -> (22.5, -51.3) projected
  arc A16 (22.5, -51.3) -> (23.5, -52.3) centre (23.5, -51.3) ccw projected
  line L15 (23.5, -52.3) -> (23.7405, -52.3) projected
  arc A17 (23.7405, -52.3) -> (71.254, -15.2778) centre (23.7405, -3.3) ccw projected
  arc A18 (71.254, -15.2778) -> (71.254, 15.2778) centre (10.65, 0) ccw projected
  line L16 (-7.5, 11.2) -> (-7.5, 18) projected
  line L17 (-7.5, 18) -> (7, 18) projected
  line L18 (7, 18) -> (7, 11.2) projected
  line L19 (7, 11.2) -> (-7.5, 11.2) projected
  circle A19 centre (40.5, -29.2) radius 1.25 projected
  arc A20 (-9.5, 30.443) -> (-9.5, 28.143) centre (-9.5, 29.293) ccw projected
  line L20 (-9.5, 30.443) -> (-7.5, 30.443) projected
  line L21 (-7.5, 30.443) -> (-7.5, 28.143) projected
  line L22 (-7.5, 28.143) -> (-9.5, 28.143) projected
  line L23 (58.455, -12.75) -> (58.455, 12.75) projected
  line L24 (58.455, 12.75) -> (68.455, 12.75) projected
  line L25 (68.455, 12.75) -> (68.455, -12.75) projected
  line L26 (68.455, -12.75) -> (58.455, -12.75) projected
  circle A21 centre (49.1887, 7.7041) radius 1.15 projected
  line L27 (-7.5, -30.443) -> (-9.5, -30.443) projected
  arc A22 (-9.5, -28.143) -> (-9.5, -30.443) centre (-9.5, -29.293) ccw projected
  line L28 (-9.5, -28.143) -> (-7.5, -28.143) projected
  line L29 (-7.5, -28.143) -> (-7.5, -30.443) projected
  circle A23 centre (17.5, 28.8) radius 1.25 projected
  line L30 (-7.5, -18.3) -> (-7.5, -11.5) projected
  line L31 (-7.5, -11.5) -> (7, -11.5) projected
  line L32 (7, -11.5) -> (7, -18.3) projected
  line L33 (7, -18.3) -> (-7.5, -18.3) projected
  circle A24 centre (11.1103, 0) radius 1 projected
  circle A25 centre (17.5, -29.2) radius 1.25 projected
  line L34 (7.5, 30.443) -> (9.5, 30.443) projected
  arc A26 (9.5, 28.143) -> (9.5, 30.443) centre (9.5, 29.293) ccw projected
  line L35 (9.5, 28.143) -> (7.5, 28.143) projected
  line L36 (7.5, 28.143) -> (7.5, 30.443) projected
  circle A27 centre (49.1887, -5.7579) radius 1.15 projected
  arc A28 (9.5, -30.443) -> (9.5, -28.143) centre (9.5, -29.293) ccw projected
  line L37 (9.5, -30.443) -> (7.5, -30.443) projected
  line L38 (7.5, -30.443) -> (7.5, -28.143) projected
  line L39 (7.5, -28.143) -> (9.5, -28.143) projected
  circle A29 centre (40.5, 28.8) radius 1.25 projected
  line L40 (-10.3604, -4.25) -> (-10.3604, 4.25) projected
  line L41 (-10.3604, 4.25) -> (9.8396, 4.25) projected
  line L42 (9.8396, 4.25) -> (9.8396, -4.25) projected
  line L43 (9.8396, -4.25) -> (-10.3604, -4.25) projected
  circle A30 centre (-11.6311, 0) radius 1 projected
  line L44 (-15.606, -33.2472) -> (-15.606, 32.7528) construction
  line L45 (-15.606, 32.7528) -> (21.4726, 32.7528) construction
  line L46 (21.4726, 32.7528) -> (21.4726, -33.2472) construction
  line L47 (21.4726, -33.2472) -> (-15.606, -33.2472) construction
  line L48 (-9.0297, -25.5314) -> (9.3868, -25.5314)
  line L49 (9.3868, -25.5314) -> (9.3868, -22.2663)
  line L50 (9.3868, -22.2663) -> (-9.0297, -22.2663)
  line L51 (-9.0297, -22.2663) -> (-9.0297, -25.5314)
  line L52 (-9.0297, 20.6397) -> (7.7218, 20.6397)
  line L53 (7.7218, 20.6397) -> (7.7218, 24.3886)
  line L54 (7.7218, 24.3886) -> (-9.0297, 24.3886)
  line L55 (-9.0297, 24.3886) -> (-9.0297, 20.6397)
  line L56 (14, -26.17) -> (14, 25.7515) projected
  line L57 (9.3868, -32.0744) -> (14, -32.0744)
  line L58 (14, -32.0744) -> (14, -12.5)
  line L59 (14, -12.5) -> (9.3868, -12.5)
  line L60 (9.3868, -12.5) -> (9.3868, -32.0744)
  line L61 (-13.8057, -19.8238) -> (-9.4895, -19.8238)
  line L62 (-9.4895, -19.8238) -> (-9.4895, -4.6772)
  line L63 (-9.4895, -4.6772) -> (-13.8057, -4.6772)
  line L64 (-13.8057, -4.6772) -> (-13.8057, -19.8238)
  line L65 (-13.3666, 8.9365) -> (-9.4895, 8.9365)
  line L66 (-9.4895, 8.9365) -> (-9.4895, 15.1891)
  line L67 (-9.4895, 15.1891) -> (-13.3666, 15.1891)
  line L68 (-13.3666, 15.1891) -> (-13.3666, 8.9365)
  line L69 (-9.4895, -9.55) -> (10.9255, -9.55)
  line L70 (10.9255, -9.55) -> (10.9255, -6.55)
  line L71 (10.9255, -6.55) -> (-9.4895, -6.55)
  line L72 (-9.4895, -6.55) -> (-9.4895, -9.55)
  line L73 (-9.4895, 5.75) -> (10.9255, 5.75)
  line L74 (10.9255, 5.75) -> (10.9255, 8.75)
  line L75 (10.9255, 8.75) -> (-9.4895, 8.75)
  line L76 (-9.4895, 8.75) -> (-9.4895, 5.75)
  line L77 (9.3868, -12.5) -> (7.3247, -12.5)
  line L78 (7.3247, -12.5) -> (7.3247, -21.1057)
  line L79 (7.3247, -21.1057) -> (9.3868, -21.1057)
  line L80 (9.3868, -21.1057) -> (9.3868, -12.5)
  line L81 (52.609, 15.5566) -> (43.1767, 15.5566)
  line L82 (43.1767, 15.5566) -> (43.1767, 25.7515)
  line L83 (43.1767, 25.7515) -> (52.609, 25.7515)
  line L84 (52.609, 25.7515) -> (52.609, 15.5566)
  line L85 (53.8576, -27.3152) -> (43.1767, -27.3152)
  line L86 (43.1767, -27.3152) -> (43.1767, -12.5)
  line L87 (43.1767, -12.5) -> (53.8576, -12.5)
  line L88 (53.8576, -12.5) -> (53.8576, -27.3152)
  line L89 (68.455, 12.75) -> (71.8357, 12.75)
  line L90 (68.455, -12.75) -> (58.455, -12.75) projected
  line L91 (68.455, -12.75) -> (71.8357, -12.75)
  point P0 (0, 0)
  dimension "d184" = 35
  dimension "d185" = 65
  dimension "d186" = 3.5
  dimension "d187" = 3.5
  dimension "d188" = 6.8
  dimension "d189" = 6.6135
  dimension "d193" = 2.257
  dimension "d194" = 1.857
  dimension "d195" = 8.5
  dimension "d196" = 14.5
  dimension "d197" = 6.8
  dimension "d198" = 14.5
  dimension "d200" = 6.6135
  dimension "d202" = 14.4
  dimension "d203" = 13.8865
  dimension "d204" = 43.9
  dimension "d205" = 31.247
  dimension "d206" = 28.45
  dimension "d207" = 2
  dimension "d209" = 13.3865
  dimension "d210" = 13.3865
  dimension "d211" = 15
  dimension "d212" = 13.3865
  dimension "d213" = 28.3865
  dimension "d331" = 66
  dimension "d377" = 3
  dimension "d378" = 3
  dimension "d381" = 1.5
  dimension "d382" = 2.3
extrude "Extrusión13" cut sketch "Boceto3" against normal blind 3 contours A18 L91 L25 L89 | L62 L71 L70 L69 | L76 L75 L74 L73 | L81 L82 L83 L84 | L85 L86 L87 L88
extrude "Extrusión14" cut sketch "Boceto2" along normal blind 3 contours A27
sketch "Boceto4" plane through (0, 3, 0) normal (0, 1, 0) x (1, 0, 0)
  line L0 (-15.5027, -32.8633) -> (-15.5027, 32.6151) construction
  line L1 (-15.5027, 32.6151) -> (21.2829, 32.6151) construction
  line L2 (21.2829, 32.6151) -> (21.2829, -32.8633) construction
  line L3 (21.2829, -32.8633) -> (-15.5027, -32.8633) construction
  point P0 (0, 0)
properties part number "Version Raspberrry Pi Zero W" material "Madera (nogal)"
